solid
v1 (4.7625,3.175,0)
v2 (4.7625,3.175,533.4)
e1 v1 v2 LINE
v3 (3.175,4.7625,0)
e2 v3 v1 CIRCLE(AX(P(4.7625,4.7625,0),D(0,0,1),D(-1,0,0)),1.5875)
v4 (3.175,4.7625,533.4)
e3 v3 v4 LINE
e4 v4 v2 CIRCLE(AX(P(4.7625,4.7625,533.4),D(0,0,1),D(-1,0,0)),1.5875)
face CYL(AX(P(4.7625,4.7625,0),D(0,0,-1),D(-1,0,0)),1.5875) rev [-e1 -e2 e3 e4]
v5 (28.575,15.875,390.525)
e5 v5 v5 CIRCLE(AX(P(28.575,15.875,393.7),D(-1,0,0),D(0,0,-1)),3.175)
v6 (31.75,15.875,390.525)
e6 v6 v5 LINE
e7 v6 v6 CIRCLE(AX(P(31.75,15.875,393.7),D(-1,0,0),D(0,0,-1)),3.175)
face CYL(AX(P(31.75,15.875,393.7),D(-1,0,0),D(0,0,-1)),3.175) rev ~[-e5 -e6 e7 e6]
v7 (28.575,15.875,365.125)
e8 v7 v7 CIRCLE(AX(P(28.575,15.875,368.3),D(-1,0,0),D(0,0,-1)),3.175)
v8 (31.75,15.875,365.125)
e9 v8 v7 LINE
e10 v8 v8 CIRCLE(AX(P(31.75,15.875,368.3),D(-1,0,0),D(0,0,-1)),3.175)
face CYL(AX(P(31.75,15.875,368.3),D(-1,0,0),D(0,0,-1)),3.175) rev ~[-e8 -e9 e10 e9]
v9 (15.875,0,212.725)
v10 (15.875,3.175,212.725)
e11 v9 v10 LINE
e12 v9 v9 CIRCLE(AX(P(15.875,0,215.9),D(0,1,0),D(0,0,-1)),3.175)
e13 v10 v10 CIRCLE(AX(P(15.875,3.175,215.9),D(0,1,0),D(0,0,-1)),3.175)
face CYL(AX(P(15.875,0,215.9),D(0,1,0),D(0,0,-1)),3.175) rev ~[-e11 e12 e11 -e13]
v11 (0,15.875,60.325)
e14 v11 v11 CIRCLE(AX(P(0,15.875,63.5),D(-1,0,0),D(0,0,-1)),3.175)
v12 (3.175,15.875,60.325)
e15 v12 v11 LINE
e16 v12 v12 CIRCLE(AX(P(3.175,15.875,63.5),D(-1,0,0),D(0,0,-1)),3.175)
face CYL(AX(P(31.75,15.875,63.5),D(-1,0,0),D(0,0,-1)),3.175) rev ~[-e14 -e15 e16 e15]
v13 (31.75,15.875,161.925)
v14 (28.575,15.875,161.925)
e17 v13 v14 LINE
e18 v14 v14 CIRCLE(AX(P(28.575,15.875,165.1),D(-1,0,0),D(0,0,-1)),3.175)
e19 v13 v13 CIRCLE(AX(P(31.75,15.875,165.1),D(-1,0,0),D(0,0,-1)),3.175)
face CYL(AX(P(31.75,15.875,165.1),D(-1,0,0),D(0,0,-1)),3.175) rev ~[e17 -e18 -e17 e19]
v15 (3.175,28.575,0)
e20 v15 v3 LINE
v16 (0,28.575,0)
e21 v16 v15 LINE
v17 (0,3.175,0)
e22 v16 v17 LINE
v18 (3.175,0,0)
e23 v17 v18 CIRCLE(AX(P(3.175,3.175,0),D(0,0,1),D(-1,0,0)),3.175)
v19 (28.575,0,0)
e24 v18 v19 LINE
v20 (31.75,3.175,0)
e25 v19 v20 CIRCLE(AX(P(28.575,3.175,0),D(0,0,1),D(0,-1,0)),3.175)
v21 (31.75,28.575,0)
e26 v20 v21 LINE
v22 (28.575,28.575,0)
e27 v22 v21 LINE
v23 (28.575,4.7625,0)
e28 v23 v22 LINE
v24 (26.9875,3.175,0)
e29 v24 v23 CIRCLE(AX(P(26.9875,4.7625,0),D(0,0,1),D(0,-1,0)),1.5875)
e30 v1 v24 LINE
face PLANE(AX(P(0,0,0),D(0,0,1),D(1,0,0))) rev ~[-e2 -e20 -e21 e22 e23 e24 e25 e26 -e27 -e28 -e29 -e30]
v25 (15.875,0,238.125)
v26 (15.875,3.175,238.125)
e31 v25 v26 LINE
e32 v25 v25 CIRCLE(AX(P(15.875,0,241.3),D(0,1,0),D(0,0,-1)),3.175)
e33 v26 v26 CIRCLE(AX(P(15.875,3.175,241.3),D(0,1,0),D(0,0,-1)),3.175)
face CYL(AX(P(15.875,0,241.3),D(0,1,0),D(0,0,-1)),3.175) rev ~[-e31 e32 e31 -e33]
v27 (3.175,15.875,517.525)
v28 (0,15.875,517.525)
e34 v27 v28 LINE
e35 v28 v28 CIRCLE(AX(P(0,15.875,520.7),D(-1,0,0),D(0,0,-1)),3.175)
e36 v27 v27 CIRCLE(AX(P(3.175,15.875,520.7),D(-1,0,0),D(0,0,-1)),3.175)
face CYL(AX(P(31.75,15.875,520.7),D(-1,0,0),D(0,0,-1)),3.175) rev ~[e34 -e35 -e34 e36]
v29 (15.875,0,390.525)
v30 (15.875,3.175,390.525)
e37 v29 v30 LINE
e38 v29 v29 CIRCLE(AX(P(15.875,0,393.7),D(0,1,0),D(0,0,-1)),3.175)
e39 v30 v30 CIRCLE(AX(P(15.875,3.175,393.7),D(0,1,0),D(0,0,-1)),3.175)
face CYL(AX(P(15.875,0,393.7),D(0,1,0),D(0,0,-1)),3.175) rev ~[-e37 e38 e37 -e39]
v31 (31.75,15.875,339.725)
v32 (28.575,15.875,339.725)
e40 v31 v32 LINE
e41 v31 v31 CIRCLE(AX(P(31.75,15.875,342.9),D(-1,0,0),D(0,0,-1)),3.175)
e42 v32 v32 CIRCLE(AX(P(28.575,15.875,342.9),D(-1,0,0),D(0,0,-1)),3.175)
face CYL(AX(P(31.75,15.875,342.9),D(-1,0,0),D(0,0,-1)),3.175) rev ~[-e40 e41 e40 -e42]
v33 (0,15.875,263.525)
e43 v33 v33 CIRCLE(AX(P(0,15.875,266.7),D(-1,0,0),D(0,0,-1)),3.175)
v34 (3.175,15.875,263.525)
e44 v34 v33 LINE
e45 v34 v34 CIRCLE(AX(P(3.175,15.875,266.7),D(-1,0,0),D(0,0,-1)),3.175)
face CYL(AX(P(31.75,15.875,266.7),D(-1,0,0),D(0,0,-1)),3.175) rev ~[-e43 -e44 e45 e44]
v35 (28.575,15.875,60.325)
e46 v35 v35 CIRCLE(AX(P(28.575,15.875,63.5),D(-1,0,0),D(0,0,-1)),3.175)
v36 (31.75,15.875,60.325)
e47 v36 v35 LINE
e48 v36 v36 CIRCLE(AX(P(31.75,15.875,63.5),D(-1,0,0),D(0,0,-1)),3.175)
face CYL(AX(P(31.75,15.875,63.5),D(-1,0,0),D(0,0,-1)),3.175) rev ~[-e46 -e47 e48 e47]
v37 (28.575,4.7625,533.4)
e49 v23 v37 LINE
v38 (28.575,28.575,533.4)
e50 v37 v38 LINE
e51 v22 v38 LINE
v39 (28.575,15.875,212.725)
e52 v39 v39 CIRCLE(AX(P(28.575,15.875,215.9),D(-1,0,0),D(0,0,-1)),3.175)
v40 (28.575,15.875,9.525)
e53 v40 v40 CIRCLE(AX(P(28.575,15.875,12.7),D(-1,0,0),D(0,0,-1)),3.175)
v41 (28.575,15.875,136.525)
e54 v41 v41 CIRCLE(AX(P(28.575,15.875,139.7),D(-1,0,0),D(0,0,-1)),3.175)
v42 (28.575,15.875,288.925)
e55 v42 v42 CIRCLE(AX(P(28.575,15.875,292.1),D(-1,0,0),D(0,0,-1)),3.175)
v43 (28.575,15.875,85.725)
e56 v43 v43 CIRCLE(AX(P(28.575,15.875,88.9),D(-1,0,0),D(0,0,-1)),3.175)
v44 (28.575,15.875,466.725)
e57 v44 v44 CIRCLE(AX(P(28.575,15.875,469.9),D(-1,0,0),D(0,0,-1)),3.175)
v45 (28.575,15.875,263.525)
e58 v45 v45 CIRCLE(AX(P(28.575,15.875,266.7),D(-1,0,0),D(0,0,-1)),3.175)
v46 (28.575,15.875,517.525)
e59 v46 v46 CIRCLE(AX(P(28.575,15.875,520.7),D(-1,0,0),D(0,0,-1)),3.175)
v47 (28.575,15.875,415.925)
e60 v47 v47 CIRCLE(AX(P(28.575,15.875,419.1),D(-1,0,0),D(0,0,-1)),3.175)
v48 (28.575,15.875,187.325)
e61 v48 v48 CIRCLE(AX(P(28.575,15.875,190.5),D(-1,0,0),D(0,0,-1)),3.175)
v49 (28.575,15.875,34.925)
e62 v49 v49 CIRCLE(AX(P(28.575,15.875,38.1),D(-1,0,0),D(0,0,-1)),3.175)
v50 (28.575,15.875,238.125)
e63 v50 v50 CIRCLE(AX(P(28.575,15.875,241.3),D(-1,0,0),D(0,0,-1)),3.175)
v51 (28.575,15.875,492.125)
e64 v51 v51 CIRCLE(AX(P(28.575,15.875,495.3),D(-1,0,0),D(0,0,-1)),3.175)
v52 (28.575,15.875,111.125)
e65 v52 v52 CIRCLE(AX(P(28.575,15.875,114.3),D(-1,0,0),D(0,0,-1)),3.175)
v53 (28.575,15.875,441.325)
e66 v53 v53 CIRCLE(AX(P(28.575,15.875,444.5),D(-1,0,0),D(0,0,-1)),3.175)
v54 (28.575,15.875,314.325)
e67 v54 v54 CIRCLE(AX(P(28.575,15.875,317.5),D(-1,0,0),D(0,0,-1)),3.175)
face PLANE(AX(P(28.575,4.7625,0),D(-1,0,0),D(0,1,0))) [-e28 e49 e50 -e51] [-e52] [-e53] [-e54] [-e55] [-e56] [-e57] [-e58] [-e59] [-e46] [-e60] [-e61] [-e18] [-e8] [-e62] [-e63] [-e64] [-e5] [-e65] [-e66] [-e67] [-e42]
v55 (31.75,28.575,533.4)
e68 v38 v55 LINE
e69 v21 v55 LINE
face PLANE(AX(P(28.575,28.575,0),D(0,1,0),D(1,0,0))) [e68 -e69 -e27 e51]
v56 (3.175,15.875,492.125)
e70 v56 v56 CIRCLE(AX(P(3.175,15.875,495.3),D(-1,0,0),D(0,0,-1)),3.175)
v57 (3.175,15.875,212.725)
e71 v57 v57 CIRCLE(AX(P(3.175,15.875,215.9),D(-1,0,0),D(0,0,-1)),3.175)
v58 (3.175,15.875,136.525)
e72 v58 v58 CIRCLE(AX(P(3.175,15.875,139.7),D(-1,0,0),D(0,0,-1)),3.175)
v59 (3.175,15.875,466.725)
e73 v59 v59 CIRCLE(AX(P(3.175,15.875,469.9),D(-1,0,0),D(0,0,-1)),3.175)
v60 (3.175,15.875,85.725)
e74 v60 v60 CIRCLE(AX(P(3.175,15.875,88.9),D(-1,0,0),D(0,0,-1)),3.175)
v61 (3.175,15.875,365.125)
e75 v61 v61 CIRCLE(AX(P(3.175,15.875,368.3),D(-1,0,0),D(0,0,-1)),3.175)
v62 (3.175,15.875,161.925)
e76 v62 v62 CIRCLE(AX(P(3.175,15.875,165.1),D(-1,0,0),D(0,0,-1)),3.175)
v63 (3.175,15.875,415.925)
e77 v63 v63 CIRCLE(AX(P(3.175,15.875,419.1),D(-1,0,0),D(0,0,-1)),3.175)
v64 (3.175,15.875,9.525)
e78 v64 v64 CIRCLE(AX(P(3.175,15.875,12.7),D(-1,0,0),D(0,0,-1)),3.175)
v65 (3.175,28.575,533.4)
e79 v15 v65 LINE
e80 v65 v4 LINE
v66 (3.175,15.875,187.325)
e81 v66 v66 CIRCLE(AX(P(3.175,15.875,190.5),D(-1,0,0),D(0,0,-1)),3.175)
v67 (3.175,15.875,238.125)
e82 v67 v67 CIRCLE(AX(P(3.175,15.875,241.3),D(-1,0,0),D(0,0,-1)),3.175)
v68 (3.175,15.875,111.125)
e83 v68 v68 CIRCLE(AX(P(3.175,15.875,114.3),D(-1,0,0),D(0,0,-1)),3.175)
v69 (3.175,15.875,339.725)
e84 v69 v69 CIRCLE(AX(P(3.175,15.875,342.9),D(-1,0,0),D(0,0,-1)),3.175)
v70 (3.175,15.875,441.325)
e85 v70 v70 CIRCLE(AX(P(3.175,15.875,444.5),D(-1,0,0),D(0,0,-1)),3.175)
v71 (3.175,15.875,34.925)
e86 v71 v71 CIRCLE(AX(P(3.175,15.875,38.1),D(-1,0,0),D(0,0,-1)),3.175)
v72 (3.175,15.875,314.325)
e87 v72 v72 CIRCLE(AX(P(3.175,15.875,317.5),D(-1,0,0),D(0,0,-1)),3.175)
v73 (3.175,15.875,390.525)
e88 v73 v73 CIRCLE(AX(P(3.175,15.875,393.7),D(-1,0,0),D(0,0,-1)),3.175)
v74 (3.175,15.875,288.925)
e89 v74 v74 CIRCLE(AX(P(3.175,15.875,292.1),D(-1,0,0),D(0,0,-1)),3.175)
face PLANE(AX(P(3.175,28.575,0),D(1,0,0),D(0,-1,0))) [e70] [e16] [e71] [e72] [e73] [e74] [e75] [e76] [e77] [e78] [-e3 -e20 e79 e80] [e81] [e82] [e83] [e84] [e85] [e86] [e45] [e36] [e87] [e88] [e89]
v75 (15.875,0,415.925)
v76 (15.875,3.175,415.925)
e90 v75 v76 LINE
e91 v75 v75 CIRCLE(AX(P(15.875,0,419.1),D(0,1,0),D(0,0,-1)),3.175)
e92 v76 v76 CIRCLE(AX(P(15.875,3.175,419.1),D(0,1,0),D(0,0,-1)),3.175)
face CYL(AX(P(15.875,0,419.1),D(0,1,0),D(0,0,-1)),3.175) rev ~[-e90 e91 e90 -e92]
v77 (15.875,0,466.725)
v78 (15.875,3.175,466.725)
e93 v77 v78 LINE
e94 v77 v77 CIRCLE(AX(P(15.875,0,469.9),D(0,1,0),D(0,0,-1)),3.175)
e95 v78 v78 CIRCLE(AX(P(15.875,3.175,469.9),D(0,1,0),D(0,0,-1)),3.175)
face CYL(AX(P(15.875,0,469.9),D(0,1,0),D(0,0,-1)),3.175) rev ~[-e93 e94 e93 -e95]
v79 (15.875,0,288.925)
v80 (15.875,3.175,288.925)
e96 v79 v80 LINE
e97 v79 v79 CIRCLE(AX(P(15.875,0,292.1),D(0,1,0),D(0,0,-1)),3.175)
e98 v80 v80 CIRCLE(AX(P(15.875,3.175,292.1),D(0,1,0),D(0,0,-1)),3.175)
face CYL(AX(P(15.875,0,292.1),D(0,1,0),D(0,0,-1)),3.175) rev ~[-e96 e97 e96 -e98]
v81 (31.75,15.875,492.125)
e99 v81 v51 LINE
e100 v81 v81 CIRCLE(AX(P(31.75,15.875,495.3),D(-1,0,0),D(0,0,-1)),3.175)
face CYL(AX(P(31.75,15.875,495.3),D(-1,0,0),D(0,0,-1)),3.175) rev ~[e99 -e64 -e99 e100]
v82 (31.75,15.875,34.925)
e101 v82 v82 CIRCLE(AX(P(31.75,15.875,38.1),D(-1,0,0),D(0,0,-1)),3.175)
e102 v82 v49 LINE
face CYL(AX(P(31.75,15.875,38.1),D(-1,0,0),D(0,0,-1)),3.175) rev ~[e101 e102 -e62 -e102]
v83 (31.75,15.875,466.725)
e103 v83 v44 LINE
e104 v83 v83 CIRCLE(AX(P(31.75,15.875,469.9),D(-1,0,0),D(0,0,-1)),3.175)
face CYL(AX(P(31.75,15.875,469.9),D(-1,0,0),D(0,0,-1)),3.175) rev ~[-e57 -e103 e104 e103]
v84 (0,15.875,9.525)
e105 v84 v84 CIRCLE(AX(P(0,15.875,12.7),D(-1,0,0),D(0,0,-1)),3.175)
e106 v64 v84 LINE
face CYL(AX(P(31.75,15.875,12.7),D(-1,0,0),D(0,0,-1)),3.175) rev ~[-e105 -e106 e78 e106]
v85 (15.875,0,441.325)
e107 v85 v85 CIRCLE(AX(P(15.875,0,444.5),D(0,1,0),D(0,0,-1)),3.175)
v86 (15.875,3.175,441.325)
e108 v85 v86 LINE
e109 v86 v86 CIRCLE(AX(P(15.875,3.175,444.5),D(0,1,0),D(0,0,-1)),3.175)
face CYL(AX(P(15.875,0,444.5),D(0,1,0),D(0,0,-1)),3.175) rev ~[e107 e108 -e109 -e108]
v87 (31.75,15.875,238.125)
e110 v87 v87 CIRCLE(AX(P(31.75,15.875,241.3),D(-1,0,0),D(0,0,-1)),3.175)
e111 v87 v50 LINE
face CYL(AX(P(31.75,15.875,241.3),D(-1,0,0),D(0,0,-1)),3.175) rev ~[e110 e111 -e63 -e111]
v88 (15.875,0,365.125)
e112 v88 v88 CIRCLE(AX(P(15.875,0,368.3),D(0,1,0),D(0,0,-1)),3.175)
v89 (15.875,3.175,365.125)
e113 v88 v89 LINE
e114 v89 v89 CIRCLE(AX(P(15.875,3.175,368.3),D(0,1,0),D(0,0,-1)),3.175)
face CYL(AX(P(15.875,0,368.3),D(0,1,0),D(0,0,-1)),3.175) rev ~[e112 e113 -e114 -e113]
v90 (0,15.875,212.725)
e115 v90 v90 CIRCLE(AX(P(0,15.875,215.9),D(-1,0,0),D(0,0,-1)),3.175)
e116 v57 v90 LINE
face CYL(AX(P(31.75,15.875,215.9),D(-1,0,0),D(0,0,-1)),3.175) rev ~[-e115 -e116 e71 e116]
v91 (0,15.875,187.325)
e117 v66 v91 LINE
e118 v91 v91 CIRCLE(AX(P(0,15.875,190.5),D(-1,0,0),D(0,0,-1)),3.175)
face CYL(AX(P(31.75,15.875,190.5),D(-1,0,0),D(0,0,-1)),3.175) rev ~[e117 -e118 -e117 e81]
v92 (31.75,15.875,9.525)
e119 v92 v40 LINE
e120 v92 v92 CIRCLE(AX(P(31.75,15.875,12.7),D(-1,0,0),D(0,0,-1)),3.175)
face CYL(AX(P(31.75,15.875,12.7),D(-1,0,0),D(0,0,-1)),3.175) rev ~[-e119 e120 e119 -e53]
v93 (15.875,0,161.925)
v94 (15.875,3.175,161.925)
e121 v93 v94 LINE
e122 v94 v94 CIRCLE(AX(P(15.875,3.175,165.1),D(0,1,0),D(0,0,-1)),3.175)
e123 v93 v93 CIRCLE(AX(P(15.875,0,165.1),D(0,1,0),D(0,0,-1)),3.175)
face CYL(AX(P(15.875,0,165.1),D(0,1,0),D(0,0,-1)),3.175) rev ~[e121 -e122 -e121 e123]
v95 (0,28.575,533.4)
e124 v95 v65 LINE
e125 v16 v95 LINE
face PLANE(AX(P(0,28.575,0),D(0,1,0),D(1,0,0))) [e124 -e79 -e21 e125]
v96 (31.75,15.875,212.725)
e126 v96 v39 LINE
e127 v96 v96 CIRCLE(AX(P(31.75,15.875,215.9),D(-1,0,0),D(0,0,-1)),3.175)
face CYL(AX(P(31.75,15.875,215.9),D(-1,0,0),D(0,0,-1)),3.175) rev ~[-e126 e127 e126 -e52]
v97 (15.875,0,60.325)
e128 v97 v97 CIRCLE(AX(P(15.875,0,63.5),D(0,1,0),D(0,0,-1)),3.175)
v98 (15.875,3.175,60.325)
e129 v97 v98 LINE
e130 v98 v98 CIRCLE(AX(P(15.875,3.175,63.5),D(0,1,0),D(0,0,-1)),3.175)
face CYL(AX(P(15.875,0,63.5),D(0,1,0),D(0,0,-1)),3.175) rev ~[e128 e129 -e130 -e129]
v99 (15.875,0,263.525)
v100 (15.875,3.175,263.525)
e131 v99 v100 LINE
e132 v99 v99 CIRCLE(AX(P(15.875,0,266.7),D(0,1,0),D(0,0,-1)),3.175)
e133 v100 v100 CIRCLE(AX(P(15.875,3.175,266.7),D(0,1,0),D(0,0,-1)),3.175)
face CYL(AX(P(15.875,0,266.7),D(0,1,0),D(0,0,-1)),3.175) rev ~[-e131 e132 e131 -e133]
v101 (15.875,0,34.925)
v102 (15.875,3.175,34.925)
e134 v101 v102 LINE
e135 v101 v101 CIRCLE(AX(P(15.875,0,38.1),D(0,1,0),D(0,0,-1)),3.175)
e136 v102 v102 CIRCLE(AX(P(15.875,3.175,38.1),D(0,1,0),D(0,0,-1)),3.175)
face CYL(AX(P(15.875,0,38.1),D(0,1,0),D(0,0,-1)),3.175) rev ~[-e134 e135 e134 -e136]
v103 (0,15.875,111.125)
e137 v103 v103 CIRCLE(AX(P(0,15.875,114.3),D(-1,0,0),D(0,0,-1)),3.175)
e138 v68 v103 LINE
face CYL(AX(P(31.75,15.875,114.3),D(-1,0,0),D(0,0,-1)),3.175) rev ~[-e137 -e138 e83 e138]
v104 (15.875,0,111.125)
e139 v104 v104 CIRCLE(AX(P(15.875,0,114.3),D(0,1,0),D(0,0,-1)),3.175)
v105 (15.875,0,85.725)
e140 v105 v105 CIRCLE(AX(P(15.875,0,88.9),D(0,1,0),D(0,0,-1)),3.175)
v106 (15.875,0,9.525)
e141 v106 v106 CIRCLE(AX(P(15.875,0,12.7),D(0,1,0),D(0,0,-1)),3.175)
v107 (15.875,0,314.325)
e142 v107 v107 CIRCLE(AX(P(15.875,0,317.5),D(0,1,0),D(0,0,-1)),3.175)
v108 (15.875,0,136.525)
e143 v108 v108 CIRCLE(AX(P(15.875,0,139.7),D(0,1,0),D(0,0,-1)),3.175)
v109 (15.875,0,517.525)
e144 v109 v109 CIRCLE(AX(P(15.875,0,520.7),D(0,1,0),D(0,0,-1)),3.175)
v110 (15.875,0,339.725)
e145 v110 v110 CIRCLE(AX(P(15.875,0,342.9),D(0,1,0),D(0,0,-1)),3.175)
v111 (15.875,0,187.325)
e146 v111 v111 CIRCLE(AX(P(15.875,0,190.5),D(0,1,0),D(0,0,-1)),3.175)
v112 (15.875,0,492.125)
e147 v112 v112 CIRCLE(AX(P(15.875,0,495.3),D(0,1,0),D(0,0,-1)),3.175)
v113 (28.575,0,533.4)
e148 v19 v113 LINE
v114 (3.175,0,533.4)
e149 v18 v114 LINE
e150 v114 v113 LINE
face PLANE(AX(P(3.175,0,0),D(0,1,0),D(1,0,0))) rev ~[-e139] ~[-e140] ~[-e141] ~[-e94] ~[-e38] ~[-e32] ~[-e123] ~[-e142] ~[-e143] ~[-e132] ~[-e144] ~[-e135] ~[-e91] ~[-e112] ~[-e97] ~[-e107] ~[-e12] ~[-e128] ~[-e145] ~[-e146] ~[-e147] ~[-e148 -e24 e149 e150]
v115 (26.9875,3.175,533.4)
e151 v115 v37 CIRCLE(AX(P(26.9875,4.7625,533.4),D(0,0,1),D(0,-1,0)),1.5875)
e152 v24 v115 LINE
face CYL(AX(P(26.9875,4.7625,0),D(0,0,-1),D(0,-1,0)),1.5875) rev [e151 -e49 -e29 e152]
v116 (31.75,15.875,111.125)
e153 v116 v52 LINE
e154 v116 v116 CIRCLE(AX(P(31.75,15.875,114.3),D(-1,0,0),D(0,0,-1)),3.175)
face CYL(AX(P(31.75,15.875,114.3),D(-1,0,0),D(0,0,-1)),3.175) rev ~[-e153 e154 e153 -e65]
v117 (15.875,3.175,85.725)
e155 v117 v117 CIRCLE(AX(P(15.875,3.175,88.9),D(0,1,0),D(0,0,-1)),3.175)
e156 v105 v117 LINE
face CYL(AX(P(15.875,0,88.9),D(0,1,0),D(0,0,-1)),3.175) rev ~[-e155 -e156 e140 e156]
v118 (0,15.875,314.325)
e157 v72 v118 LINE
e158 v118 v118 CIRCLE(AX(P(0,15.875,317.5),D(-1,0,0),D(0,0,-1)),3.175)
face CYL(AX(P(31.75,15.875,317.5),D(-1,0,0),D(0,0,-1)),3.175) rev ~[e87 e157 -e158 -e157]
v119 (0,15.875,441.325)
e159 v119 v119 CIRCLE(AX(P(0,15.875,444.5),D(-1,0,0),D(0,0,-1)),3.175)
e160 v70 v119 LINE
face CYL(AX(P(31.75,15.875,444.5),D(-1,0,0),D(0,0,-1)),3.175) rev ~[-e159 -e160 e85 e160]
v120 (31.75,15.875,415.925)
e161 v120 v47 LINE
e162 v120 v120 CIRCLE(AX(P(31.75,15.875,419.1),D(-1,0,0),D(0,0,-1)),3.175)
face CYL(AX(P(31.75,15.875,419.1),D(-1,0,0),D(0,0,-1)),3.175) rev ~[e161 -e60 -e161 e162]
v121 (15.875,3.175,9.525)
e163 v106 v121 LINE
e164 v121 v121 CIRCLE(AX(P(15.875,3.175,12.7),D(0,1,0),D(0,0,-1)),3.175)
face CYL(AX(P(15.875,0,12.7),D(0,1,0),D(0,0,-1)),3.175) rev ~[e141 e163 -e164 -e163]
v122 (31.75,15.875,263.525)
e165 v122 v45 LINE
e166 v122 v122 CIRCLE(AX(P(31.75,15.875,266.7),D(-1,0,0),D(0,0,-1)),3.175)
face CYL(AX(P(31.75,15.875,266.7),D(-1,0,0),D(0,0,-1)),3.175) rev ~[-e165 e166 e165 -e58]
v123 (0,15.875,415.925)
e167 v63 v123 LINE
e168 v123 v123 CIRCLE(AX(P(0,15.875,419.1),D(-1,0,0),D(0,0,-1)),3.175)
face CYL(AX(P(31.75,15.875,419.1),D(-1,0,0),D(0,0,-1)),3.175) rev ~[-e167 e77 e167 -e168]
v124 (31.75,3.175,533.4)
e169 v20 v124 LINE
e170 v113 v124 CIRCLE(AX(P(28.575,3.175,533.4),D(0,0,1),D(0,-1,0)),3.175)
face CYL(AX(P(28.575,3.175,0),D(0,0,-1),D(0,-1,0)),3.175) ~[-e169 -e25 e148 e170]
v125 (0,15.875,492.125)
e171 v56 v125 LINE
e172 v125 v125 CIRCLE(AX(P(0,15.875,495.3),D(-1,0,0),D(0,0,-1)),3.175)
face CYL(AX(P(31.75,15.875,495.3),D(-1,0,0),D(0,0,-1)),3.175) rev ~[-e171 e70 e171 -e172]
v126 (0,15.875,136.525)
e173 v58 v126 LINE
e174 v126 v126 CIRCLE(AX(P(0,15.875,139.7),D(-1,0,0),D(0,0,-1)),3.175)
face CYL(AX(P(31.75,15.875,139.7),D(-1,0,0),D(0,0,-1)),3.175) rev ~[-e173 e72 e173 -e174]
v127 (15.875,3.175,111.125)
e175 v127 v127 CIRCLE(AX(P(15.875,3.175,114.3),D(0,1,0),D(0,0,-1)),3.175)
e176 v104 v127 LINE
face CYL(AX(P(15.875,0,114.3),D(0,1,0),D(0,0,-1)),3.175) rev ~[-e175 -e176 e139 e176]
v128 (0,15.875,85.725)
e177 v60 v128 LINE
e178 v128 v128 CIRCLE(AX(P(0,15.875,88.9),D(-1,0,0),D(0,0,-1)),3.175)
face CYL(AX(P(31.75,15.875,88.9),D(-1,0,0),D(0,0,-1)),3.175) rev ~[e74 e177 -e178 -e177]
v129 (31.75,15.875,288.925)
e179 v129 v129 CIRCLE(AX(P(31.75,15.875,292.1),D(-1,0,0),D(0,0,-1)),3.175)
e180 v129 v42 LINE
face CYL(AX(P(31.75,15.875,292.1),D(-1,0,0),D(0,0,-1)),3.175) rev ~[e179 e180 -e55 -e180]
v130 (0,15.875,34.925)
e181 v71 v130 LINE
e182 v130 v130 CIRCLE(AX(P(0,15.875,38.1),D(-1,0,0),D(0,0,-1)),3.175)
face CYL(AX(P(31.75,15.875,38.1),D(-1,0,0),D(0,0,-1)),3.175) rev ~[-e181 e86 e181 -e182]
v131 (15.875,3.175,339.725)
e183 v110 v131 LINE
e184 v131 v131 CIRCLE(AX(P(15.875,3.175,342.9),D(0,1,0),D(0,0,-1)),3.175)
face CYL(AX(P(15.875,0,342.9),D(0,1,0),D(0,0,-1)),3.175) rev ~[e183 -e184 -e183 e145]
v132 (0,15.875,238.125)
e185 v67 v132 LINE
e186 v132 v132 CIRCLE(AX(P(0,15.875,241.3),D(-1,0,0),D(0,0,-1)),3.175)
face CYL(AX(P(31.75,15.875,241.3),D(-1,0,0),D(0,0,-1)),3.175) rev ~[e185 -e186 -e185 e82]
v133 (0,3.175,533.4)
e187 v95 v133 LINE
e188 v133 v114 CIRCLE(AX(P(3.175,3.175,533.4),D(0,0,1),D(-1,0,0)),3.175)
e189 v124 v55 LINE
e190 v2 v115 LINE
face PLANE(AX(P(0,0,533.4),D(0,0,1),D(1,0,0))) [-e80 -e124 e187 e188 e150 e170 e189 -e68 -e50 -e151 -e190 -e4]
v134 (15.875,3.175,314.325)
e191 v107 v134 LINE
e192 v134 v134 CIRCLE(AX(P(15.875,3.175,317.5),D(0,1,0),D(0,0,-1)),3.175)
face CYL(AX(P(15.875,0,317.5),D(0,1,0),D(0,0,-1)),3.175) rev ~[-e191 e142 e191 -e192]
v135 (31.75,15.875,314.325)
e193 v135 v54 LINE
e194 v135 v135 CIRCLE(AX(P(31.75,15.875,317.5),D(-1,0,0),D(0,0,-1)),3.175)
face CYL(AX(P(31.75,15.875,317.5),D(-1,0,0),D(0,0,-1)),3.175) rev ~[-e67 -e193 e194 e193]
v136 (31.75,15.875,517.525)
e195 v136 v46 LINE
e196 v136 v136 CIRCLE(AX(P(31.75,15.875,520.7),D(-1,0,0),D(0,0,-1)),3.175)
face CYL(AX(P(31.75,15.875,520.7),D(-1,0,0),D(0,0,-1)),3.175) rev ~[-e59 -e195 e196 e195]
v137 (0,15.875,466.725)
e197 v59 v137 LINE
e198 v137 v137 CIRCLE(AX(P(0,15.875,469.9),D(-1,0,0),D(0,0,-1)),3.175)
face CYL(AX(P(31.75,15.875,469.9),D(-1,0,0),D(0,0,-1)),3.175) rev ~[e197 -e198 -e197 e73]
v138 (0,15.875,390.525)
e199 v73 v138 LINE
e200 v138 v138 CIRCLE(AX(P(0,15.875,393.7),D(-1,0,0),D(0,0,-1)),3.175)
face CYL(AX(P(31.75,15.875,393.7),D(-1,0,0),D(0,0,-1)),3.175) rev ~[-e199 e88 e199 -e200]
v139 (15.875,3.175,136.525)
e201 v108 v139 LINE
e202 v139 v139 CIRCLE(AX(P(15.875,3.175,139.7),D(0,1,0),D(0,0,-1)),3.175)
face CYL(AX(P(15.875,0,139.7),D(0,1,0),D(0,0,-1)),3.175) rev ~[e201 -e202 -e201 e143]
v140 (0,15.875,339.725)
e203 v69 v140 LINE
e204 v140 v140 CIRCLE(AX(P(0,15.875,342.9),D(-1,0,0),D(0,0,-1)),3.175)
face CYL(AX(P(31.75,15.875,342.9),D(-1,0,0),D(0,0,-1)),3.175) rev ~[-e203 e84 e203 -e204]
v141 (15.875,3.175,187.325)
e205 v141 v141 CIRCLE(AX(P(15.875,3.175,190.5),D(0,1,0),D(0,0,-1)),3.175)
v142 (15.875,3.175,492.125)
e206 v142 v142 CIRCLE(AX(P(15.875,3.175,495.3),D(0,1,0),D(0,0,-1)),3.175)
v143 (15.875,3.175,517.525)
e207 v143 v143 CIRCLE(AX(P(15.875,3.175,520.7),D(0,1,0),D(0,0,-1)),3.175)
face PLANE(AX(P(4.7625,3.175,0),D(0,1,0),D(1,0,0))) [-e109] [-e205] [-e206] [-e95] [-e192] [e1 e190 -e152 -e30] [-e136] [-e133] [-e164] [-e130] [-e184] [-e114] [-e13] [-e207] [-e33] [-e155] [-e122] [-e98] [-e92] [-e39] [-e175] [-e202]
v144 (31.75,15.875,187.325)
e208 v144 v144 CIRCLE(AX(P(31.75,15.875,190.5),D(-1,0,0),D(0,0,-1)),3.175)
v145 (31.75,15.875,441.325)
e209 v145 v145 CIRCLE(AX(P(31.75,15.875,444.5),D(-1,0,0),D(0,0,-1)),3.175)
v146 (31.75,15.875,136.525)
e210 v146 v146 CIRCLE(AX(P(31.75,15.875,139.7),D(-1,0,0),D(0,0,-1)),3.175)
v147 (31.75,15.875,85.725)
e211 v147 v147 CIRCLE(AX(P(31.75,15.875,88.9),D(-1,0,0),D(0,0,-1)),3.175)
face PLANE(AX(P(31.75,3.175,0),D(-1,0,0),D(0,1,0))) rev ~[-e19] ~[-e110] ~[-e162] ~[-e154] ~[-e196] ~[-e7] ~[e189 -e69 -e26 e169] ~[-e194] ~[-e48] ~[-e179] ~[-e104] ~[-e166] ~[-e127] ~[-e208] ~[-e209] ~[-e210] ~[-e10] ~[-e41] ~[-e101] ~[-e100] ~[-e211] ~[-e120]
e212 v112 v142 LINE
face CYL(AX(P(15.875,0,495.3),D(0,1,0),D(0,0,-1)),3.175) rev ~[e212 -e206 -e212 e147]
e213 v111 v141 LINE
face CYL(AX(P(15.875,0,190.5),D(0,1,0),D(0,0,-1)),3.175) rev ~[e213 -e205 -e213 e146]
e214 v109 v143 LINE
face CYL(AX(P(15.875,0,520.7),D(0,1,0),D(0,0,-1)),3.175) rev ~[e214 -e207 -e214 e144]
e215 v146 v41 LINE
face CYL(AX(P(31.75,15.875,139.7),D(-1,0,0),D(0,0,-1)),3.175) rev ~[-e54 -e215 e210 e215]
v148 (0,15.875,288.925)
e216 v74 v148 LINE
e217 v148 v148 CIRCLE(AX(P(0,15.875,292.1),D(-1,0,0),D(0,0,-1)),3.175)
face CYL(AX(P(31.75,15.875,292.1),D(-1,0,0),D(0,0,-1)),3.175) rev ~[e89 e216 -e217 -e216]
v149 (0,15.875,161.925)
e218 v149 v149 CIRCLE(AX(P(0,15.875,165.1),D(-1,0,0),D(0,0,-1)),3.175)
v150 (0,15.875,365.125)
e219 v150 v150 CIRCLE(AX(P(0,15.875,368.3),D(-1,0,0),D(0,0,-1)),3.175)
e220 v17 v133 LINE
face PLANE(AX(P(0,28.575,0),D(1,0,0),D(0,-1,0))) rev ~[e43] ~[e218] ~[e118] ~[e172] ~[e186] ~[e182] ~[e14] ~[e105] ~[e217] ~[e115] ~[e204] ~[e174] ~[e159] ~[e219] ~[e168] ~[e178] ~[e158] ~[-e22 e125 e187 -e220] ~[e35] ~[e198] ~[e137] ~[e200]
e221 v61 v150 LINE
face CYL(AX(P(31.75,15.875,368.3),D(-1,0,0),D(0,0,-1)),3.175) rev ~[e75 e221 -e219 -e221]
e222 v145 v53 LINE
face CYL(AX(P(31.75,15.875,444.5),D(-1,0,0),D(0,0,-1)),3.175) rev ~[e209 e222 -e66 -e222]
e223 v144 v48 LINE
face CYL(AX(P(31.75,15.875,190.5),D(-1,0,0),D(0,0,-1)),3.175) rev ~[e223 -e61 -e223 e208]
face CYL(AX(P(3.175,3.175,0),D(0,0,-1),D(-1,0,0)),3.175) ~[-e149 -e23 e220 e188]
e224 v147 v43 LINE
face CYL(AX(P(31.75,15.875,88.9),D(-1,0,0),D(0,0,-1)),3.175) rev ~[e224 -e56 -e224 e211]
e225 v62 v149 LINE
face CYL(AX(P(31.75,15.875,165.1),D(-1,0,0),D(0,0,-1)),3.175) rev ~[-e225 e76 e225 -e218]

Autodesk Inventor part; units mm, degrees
ref_plane "YZ Plane" through (0, 0, 0) normal (1, 0, 0) x (0, 1, 0)
ref_plane "XZ Plane" through (0, 0, 0) normal (0, 1, 0) x (-1, 0, 0)
ref_plane "XY Plane" through (0, 0, 0) normal (0, 0, 1) x (1, 0, 0)
sketch "Sketch1" plane through (0, 0, 0) normal (0, 0, 1) x (1, 0, 0)
  line L0 (3.175, 0) -> (28.575, 0)
  line L1 (31.75, 3.175) -> (31.75, 28.575)
  line L2 (0, 28.575) -> (0, 3.175)
  line L3 (4.7625, 3.175) -> (26.9875, 3.175)
  line L4 (28.575, 4.7625) -> (28.575, 28.575)
  line L5 (3.175, 28.575) -> (3.175, 4.7625)
  line L6 (0, 28.575) -> (3.175, 28.575)
  line L7 (28.575, 28.575) -> (31.75, 28.575)
  arc A0 (3.175, 4.7625) -> (4.7625, 3.175) centre (4.7625, 4.7625) ccw
  arc A1 (26.9875, 3.175) -> (28.575, 4.7625) centre (26.9875, 4.7625) ccw
  arc A2 (0, 3.175) -> (3.175, 0) centre (3.175, 3.175) ccw
  arc A3 (28.575, 0) -> (31.75, 3.175) centre (28.575, 3.175) ccw
  point P0 (0, 0)
  point P1 (0, 0)
  point P2 (31.75, 0)
  dimension "d0" = 31.75
  dimension "d1" = 28.575
  dimension "d2" = 1.5875
  dimension "d3" = 3.175
extrude "Extrusion1" add sketch "Sketch1" along normal blind 533.4
sketch "Sketch2" plane through (31.75, 3.175, 0) normal (1, 0, 0) x (0, 0, -1)
  line L0 (-533.4, 0) -> (-533.4, 25.4) projected
  line L1 (0, 0) -> (-533.4, 0) projected
  line L2 (-533.4, 12.7) -> (-520.7, 12.7)
  point P0 (0, -3.175)
  dimension "d6" = 12.7
hole "Hole1" at (31.75, 15.875, 520.7) direction (-1, 0, 0) diameter 6.35 end through all
sketch "Sketch3" plane through (3.175, 0, 0) normal (0, -1, 0) x (1, 0, 0)
  line L0 (0, 533.4) -> (25.4, 533.4) projected
  line L1 (0, 0) -> (0, 533.4) projected
  line L2 (12.7, 533.4) -> (12.7, 520.7)
  point P0 (-3.175, 0)
  dimension "d14" = 12.7
hole "Hole2" at (15.875, 0, 520.7) direction (0, 1, 0) diameter 6.35 end through all
pattern_linear "Rectangular Pattern1" count 21 spacing 25.4 along (0, 0, -1) of "Hole1", "Hole2"
properties part number "21 in bar"
